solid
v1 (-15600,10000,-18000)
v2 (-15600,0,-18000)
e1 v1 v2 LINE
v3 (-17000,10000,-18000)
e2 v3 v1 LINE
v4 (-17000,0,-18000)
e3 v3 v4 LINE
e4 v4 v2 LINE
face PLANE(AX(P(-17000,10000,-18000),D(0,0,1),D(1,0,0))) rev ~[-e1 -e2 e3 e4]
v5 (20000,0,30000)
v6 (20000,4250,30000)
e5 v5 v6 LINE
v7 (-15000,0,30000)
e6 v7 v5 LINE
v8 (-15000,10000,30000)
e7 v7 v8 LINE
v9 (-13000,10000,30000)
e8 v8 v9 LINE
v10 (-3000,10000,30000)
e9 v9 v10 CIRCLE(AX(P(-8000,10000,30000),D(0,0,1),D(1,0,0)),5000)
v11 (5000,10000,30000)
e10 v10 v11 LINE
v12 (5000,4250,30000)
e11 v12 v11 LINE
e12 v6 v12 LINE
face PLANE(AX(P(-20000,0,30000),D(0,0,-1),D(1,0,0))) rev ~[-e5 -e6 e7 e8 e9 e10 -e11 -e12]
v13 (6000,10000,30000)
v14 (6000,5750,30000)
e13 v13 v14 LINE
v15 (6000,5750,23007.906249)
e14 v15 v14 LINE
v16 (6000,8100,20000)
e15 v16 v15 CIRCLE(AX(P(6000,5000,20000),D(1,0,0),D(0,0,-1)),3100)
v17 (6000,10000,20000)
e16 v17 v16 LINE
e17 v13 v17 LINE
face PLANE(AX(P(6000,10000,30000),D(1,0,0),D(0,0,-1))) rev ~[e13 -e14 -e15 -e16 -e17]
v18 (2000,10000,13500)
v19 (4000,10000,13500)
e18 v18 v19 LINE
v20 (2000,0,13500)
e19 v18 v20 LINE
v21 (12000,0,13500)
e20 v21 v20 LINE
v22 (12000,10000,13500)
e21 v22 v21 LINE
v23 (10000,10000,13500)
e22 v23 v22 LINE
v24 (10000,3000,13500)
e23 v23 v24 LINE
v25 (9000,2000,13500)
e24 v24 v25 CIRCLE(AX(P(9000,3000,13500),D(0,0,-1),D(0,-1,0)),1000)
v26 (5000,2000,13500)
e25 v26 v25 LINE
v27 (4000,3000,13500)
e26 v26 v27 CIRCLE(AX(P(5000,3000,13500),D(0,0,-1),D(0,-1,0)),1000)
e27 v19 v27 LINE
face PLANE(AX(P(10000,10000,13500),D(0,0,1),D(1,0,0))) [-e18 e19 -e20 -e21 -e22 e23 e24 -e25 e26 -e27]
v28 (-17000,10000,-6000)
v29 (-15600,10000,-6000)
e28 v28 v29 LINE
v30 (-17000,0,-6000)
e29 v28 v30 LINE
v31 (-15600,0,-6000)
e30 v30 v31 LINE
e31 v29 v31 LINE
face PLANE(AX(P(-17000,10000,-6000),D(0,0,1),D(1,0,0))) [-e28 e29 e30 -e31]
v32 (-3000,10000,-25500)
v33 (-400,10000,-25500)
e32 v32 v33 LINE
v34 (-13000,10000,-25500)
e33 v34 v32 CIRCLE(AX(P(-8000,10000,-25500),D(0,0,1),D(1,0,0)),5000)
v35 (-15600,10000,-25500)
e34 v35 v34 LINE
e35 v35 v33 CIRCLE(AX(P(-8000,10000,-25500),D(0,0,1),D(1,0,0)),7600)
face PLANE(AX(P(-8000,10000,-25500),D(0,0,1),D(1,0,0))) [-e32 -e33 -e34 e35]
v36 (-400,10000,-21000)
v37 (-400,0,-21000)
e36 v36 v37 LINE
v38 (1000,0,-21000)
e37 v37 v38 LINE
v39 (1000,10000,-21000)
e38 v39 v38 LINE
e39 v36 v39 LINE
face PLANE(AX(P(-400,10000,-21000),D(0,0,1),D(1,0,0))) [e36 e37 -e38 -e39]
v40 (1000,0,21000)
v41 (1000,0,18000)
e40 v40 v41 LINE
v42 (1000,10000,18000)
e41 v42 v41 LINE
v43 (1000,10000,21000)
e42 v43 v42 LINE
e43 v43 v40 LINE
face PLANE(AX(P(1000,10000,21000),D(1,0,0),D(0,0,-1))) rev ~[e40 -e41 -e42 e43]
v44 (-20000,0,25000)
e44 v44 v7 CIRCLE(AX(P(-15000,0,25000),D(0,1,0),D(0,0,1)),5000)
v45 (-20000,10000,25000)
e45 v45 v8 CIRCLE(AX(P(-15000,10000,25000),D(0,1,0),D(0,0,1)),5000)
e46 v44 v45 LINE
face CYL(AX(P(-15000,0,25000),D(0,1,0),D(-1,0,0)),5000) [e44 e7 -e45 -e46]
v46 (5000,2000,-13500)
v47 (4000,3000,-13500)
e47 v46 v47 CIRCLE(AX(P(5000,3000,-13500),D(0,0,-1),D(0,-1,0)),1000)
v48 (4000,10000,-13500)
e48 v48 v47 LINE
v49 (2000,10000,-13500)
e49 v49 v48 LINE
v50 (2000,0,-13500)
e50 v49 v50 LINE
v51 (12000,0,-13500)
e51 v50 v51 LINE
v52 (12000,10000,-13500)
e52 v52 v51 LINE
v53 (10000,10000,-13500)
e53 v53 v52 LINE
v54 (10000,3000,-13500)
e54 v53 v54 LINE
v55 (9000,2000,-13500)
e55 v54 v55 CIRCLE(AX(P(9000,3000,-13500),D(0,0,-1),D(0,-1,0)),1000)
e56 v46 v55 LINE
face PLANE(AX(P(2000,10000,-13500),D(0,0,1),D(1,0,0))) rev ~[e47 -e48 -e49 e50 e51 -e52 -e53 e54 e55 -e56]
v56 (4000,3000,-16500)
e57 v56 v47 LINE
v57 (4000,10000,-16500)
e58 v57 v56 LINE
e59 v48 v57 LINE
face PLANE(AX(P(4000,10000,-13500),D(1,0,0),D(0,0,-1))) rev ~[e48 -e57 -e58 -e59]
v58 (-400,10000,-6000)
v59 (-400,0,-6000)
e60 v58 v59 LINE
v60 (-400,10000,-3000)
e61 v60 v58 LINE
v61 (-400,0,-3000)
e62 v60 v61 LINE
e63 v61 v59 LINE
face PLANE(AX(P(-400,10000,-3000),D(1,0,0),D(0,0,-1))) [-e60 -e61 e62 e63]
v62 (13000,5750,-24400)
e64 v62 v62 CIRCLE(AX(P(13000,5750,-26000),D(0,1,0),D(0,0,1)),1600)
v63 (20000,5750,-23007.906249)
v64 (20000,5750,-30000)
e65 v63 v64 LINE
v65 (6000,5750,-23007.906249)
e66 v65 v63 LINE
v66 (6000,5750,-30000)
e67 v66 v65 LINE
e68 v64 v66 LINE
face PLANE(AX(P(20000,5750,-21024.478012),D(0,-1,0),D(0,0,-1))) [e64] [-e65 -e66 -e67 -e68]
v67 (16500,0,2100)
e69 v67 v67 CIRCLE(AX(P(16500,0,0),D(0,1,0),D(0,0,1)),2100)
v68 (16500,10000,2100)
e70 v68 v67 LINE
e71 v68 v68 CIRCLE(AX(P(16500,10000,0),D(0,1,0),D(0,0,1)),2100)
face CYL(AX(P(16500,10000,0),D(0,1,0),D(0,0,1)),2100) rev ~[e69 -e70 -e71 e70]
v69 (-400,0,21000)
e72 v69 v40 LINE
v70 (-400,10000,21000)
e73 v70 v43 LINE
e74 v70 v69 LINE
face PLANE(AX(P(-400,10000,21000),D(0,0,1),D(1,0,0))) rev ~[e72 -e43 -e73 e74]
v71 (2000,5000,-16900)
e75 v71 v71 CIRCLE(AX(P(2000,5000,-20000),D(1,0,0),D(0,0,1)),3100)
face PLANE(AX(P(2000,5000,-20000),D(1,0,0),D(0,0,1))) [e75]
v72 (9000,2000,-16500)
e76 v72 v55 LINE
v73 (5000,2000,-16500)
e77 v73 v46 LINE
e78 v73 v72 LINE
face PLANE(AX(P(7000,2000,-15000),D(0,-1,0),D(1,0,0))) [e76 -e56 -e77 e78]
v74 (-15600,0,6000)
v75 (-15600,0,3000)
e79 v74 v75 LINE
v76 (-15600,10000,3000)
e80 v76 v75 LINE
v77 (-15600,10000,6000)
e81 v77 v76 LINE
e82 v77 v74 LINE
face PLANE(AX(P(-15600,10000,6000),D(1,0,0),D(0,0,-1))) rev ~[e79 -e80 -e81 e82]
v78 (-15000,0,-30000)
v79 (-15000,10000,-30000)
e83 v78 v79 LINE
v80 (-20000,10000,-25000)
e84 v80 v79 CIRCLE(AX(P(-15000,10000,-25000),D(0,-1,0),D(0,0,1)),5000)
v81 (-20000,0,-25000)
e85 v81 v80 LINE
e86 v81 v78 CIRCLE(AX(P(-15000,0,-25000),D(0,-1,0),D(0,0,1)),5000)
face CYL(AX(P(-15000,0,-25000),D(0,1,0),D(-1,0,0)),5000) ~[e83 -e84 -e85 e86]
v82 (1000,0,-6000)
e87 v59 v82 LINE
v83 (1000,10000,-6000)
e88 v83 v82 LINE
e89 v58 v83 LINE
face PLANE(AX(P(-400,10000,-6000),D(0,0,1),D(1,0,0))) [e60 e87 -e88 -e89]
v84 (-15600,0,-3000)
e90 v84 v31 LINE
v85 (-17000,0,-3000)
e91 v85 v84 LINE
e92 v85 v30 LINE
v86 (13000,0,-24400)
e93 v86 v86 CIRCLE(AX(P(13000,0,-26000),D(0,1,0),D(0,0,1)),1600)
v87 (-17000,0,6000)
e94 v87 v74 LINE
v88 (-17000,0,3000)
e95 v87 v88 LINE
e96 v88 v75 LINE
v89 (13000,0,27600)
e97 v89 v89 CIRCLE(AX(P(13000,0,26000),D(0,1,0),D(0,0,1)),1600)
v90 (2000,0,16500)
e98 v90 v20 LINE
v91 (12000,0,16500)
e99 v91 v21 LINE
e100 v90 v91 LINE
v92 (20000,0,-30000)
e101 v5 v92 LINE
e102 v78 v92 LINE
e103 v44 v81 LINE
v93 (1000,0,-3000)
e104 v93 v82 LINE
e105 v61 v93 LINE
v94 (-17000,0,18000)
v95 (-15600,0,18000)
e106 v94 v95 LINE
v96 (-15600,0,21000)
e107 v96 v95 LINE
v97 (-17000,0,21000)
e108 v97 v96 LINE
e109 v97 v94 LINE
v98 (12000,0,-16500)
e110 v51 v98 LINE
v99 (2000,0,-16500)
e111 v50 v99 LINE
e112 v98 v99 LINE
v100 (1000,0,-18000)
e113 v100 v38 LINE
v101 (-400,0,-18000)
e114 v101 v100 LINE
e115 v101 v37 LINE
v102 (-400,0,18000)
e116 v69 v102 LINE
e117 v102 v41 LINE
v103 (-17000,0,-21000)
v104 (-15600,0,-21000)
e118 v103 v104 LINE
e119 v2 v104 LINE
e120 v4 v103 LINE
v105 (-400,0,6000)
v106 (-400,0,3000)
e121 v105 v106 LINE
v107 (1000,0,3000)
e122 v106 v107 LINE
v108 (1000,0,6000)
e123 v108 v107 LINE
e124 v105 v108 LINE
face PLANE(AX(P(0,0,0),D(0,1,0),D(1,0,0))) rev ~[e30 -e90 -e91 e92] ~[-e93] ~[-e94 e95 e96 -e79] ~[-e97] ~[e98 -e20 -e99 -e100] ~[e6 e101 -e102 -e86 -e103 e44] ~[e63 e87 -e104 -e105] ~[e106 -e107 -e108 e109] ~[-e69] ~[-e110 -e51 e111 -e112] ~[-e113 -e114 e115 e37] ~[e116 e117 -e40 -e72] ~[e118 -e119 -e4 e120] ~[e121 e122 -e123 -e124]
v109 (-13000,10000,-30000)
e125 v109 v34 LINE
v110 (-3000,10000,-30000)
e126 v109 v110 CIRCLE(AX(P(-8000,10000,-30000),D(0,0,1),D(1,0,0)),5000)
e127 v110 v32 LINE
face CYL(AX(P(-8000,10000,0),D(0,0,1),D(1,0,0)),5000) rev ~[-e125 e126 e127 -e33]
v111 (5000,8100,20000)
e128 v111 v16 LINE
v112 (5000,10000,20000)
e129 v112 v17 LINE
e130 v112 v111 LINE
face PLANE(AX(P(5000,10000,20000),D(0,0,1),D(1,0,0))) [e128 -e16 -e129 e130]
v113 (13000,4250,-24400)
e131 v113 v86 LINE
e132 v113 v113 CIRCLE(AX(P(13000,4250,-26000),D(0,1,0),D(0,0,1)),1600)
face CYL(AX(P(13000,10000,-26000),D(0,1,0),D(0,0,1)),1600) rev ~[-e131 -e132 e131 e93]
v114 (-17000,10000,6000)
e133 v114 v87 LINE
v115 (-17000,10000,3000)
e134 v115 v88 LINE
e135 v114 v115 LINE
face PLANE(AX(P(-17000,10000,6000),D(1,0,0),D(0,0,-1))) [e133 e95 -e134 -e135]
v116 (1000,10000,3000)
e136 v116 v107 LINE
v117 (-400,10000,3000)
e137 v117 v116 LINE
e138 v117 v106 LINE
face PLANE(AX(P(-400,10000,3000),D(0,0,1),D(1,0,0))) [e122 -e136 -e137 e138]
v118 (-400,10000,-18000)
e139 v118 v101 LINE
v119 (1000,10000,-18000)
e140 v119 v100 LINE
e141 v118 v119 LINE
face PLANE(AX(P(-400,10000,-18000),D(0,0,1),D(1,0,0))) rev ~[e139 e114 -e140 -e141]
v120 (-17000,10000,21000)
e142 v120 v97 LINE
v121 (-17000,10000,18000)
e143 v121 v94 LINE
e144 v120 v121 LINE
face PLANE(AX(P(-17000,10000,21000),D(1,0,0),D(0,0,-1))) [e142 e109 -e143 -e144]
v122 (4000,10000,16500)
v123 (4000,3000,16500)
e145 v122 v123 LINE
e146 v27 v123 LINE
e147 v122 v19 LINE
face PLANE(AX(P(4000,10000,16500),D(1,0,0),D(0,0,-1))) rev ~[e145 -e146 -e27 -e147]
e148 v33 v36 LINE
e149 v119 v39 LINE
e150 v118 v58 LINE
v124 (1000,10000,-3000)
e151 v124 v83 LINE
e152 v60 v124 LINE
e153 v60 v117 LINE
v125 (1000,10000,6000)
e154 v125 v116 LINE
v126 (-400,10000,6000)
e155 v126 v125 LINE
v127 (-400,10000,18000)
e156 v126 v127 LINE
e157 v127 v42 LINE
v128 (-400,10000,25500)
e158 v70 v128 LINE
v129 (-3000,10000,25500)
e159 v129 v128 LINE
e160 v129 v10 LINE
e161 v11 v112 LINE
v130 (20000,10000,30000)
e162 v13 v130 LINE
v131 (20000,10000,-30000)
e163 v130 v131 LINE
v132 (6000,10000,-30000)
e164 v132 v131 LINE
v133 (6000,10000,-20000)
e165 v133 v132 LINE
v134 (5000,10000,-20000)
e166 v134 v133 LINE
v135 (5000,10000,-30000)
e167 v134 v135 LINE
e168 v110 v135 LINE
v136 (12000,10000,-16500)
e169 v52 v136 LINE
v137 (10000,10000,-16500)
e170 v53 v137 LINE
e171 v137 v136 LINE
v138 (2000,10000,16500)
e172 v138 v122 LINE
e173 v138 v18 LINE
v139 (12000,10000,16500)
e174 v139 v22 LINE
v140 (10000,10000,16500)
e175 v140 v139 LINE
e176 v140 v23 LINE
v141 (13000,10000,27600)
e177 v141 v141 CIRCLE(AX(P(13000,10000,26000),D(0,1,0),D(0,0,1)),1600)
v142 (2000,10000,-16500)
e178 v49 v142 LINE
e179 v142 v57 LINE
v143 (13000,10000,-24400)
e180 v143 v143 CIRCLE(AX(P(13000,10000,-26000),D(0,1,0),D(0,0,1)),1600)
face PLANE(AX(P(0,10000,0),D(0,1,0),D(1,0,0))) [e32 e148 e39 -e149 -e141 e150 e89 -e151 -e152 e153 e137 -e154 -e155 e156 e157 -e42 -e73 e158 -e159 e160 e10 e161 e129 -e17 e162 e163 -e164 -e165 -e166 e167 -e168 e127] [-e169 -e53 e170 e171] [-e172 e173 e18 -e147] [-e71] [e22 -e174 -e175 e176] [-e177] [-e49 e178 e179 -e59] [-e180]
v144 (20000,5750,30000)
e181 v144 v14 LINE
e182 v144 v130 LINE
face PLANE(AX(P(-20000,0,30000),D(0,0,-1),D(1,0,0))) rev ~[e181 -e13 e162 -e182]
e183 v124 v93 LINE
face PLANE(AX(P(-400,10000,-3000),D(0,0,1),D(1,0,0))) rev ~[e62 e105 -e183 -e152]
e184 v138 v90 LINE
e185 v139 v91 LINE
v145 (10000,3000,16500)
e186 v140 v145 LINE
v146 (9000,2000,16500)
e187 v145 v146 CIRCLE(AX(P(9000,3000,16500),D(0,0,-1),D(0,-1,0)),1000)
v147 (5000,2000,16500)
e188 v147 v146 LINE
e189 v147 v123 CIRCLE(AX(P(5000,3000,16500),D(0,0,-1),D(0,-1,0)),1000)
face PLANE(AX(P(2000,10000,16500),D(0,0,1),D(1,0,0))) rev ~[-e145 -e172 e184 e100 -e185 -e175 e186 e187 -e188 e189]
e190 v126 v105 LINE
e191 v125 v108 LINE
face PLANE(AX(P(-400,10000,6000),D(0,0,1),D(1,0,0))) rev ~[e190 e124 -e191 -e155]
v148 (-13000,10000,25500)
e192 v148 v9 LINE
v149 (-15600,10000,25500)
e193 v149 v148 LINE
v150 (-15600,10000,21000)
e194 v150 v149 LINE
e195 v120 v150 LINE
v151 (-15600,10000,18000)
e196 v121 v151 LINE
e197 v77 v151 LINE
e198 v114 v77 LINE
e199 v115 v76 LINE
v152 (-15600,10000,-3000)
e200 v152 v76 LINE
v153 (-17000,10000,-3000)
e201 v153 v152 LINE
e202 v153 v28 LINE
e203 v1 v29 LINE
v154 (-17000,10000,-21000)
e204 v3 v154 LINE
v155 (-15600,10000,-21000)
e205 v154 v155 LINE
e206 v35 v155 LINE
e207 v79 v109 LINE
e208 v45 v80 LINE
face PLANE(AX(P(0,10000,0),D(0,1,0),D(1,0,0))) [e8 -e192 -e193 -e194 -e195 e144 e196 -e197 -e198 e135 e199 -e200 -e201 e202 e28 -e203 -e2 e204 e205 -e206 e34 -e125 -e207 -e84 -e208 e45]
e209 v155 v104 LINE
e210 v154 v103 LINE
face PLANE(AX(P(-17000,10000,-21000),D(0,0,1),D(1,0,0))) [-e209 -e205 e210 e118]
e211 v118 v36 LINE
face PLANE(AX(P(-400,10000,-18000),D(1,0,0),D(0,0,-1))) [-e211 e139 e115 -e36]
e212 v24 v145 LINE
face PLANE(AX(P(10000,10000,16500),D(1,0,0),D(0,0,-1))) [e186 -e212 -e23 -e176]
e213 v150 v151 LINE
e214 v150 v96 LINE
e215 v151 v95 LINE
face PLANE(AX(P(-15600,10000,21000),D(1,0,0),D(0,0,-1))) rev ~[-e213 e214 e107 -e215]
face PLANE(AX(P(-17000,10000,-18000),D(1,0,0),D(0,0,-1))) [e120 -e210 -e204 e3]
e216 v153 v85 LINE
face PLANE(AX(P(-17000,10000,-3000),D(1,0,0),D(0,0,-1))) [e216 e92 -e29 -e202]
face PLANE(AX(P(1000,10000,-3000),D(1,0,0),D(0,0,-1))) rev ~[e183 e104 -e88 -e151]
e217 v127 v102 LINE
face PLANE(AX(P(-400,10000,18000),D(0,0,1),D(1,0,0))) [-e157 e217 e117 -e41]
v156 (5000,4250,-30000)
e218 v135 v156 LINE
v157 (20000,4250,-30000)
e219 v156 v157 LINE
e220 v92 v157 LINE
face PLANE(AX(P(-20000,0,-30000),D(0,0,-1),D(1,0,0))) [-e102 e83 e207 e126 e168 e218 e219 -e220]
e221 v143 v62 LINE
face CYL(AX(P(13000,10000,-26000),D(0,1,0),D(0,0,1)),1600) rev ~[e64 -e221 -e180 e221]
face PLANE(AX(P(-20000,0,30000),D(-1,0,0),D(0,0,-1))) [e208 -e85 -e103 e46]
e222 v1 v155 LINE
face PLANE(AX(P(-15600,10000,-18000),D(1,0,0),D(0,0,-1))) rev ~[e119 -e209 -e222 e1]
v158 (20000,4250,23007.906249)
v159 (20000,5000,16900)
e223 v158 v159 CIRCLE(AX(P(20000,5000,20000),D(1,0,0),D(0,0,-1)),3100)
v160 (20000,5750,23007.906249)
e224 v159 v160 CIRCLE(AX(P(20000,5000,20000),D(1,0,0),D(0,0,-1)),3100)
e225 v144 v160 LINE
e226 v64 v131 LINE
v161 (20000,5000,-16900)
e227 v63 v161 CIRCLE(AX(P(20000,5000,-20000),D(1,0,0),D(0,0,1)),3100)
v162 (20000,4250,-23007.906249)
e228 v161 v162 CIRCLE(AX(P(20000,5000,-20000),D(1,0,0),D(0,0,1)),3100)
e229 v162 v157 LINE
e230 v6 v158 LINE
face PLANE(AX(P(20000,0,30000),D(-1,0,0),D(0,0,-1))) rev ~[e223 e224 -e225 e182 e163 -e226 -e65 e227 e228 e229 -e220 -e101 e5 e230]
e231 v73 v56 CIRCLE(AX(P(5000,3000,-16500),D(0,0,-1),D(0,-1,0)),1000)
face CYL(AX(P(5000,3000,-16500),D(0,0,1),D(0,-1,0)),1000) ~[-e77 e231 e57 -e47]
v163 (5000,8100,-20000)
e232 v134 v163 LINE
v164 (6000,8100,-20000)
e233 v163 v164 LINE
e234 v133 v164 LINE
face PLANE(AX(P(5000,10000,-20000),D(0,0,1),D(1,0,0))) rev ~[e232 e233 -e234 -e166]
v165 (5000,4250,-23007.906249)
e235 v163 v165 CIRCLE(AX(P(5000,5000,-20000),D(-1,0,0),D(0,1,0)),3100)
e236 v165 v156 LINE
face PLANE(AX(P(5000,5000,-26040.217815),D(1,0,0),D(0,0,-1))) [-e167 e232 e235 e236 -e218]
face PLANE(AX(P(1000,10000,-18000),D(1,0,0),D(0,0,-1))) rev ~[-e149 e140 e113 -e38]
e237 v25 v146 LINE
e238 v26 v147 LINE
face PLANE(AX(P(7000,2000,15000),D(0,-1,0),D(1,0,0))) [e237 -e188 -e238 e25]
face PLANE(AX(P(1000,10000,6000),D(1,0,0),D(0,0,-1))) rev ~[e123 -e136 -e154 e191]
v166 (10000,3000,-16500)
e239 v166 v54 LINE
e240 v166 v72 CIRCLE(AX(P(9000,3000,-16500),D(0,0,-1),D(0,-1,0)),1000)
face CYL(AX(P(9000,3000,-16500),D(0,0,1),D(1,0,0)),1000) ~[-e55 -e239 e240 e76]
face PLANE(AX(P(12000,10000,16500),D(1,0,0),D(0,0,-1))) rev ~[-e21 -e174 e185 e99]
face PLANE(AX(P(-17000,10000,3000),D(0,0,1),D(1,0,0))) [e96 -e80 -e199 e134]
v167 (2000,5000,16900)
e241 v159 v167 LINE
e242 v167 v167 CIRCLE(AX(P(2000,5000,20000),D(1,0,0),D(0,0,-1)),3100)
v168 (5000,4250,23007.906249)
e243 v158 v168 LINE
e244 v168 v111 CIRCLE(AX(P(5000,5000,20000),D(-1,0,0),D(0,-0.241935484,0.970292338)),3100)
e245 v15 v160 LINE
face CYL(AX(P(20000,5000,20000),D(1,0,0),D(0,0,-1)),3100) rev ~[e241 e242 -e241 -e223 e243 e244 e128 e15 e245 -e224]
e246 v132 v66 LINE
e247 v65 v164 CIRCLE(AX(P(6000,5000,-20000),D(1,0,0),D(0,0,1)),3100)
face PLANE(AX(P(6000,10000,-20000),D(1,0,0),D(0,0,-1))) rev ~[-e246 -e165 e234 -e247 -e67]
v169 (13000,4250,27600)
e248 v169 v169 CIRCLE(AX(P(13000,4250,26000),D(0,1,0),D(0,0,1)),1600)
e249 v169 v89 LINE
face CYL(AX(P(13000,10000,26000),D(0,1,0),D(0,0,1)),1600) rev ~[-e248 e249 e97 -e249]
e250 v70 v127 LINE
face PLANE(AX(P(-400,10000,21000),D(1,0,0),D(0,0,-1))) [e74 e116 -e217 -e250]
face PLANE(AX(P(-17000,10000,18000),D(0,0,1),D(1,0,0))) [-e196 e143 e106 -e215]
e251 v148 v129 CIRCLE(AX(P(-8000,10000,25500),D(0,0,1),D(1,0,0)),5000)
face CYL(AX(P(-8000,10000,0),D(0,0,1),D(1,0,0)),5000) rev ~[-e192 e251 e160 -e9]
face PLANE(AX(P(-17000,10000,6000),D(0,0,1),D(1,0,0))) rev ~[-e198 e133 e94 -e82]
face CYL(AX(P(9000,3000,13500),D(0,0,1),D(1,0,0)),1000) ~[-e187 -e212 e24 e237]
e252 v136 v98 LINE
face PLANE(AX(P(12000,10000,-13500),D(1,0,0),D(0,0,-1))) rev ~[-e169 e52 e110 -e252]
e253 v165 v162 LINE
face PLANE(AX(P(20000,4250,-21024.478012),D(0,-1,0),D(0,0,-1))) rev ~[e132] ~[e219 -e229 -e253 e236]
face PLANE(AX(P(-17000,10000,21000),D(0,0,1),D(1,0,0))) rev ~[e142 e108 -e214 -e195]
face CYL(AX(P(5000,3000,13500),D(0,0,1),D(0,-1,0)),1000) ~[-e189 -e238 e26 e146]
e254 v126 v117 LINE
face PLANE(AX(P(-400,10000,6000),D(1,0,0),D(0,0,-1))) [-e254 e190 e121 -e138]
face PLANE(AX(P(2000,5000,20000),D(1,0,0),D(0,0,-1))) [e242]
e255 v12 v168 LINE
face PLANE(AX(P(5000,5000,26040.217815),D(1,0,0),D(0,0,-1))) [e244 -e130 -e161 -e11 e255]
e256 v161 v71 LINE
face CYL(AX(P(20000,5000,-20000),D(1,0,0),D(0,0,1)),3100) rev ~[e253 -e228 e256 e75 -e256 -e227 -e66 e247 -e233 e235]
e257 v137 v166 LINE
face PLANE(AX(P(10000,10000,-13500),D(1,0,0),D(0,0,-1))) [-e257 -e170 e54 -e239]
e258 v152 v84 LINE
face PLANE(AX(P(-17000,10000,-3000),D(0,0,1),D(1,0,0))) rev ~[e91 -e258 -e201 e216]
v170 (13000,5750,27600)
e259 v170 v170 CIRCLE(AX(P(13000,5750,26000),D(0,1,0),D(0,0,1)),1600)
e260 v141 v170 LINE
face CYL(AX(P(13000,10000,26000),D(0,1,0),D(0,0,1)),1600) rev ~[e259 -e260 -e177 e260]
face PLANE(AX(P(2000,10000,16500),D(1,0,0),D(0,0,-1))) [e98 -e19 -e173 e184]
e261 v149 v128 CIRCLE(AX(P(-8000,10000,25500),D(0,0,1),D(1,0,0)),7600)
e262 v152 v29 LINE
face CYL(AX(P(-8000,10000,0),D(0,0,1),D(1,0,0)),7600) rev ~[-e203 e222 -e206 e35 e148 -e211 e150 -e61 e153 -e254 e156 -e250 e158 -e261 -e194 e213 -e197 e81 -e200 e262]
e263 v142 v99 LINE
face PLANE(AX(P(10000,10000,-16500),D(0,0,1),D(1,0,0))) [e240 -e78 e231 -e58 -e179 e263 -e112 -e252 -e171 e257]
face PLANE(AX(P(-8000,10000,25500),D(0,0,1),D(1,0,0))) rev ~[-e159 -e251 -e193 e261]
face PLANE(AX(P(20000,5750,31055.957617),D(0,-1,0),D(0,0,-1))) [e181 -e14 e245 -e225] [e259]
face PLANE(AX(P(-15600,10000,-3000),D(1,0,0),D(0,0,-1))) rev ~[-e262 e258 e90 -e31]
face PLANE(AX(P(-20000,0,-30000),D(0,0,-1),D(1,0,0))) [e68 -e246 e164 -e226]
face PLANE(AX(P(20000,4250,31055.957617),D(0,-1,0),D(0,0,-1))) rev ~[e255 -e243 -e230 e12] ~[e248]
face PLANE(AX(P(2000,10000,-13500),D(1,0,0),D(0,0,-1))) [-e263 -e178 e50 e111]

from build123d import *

# Parameters (mm, degrees)
SKETCH_2_W           = 40000
SKETCH_2_H           = 60000
EXTRUDE_1_DEPTH      = 10000
SKETCH_4_R           = 7600
CUT_EXTRUDE_2_DEPTH  = 25500
SKETCH_5_R           = 5000
CUT_EXTRUDE_3_DEPTH  = 40000
SKETCH_6_W           = 2000
SKETCH_6_H           = 3000
CUT_EXTRUDE_4_DEPTH  = 80000
SKETCH_13_R          = 3100
CUT_EXTRUDE_6_DEPTH  = 18000
SKETCH_16_W          = 10031.479605139
SKETCH_16_H          = 1500
CUT_EXTRUDE_7_DEPTH  = 15000
CUT_EXTRUDE_8_REACH  = 37418.574
SKETCH_17_W          = 1000
SKETCH_17_H          = 10000
SKETCH_18_R          = 1600
CUT_EXTRUDE_9_DEPTH  = 15000
SKETCH_19_W          = 1400
SKETCH_19_H          = 3000
CUT_EXTRUDE_10_DEPTH = 15000
FILLET_1_R           = 5000
SKETCH_20_R          = 2100
CUT_EXTRUDE_11_DEPTH = 10000
SKETCH_21_W          = 6000
SKETCH_21_H          = 3000
CUT_EXTRUDE_12_DEPTH = 2000
FILLET_2_R           = 1000


with BuildPart() as part:
    # 草圖2 → 填料-伸長1 (new body)
    with BuildSketch(Plane(origin=(0, 0, 0), x_dir=(1, 0, 0), z_dir=(0, 1, 0))):
        Rectangle(SKETCH_2_W, SKETCH_2_H)
    extrude(amount=EXTRUDE_1_DEPTH)

    # 草圖4 → 除料-伸長2 (cut, symmetric)
    with BuildSketch(Plane.XY):
        with Locations((-8000, 10000)):
            Circle(SKETCH_4_R)
    extrude(amount=CUT_EXTRUDE_2_DEPTH, both=True, mode=Mode.SUBTRACT)

    # 草圖5 → 除料-伸長3 (cut, symmetric)
    with BuildSketch(Plane.XY):
        with Locations((-8000, 10000)):
            Circle(SKETCH_5_R)
    extrude(amount=CUT_EXTRUDE_3_DEPTH, both=True, mode=Mode.SUBTRACT)

    # 草圖6 → 除料-伸長4 (cut)
    with BuildSketch(Plane(origin=(0, 10000, 0), x_dir=(1, 0, 0), z_dir=(0, 1, 0))):
        with Locations((11000, -15000)):
            Rectangle(SKETCH_6_W, SKETCH_6_H)
        with Locations((3000, 15000)):
            Rectangle(SKETCH_6_W, SKETCH_6_H)
        with Locations((11000, 15000)):
            Rectangle(SKETCH_6_W, SKETCH_6_H)
        with Locations((3000, -15000)):
            Rectangle(SKETCH_6_W, SKETCH_6_H)
    extrude(amount=-CUT_EXTRUDE_4_DEPTH, mode=Mode.SUBTRACT)

    # 草圖13 → 除料-伸長6 (cut)
    with BuildSketch(Plane(origin=(20000, 0, 0), x_dir=(0, 0, -1), z_dir=(1, 0, 0))):
        with Locations((-20000, 5000)):
            Circle(SKETCH_13_R)
        with Locations(Location((20000, 5000, 0), (0, 0, 180))):
            Circle(SKETCH_13_R)
    extrude(amount=-CUT_EXTRUDE_6_DEPTH, mode=Mode.SUBTRACT)

    # 草圖16 → 除料-伸長7 (cut)
    with BuildSketch(Plane(origin=(20000, 0, 0), x_dir=(0, 0, -1), z_dir=(1, 0, 0))):
        with Locations((-26040.217814772, 5000)):
            Rectangle(SKETCH_16_W, SKETCH_16_H)
        with Locations((26040.217814772, 5000)):
            Rectangle(SKETCH_16_W, SKETCH_16_H)
    extrude(amount=-CUT_EXTRUDE_7_DEPTH, mode=Mode.SUBTRACT)

    # 除料-伸長8: up to this face of the body (flat: up to its plane)
    cut_extrude_8_end = Plane(part.part.faces().sort_by_distance((12500, 4250, -26503.95312427))[0])
    # 草圖17 → 除料-伸長8 (cut, up to the picked face)
    with BuildSketch(Plane(origin=(0, 10000, 0), x_dir=(1, 0, 0), z_dir=(0, 1, 0)), mode=Mode.PRIVATE) as cut_extrude_8_sk1:
        with Locations((5500, 25000)):
            Rectangle(SKETCH_17_W, SKETCH_17_H)
    cut_extrude_8_tool1 = split(extrude(cut_extrude_8_sk1.sketch, amount=-CUT_EXTRUDE_8_REACH, mode=Mode.PRIVATE), bisect_by=cut_extrude_8_end, keep=Keep.BOTH, mode=Mode.PRIVATE)
    # 草圖17 → 除料-伸長8 (cut, up to the picked face)
    with BuildSketch(Plane(origin=(0, 10000, 0), x_dir=(1, 0, 0), z_dir=(0, 1, 0)), mode=Mode.PRIVATE) as cut_extrude_8_sk2:
        with Locations((5500, -25000)):
            Rectangle(SKETCH_17_W, SKETCH_17_H)
    cut_extrude_8_tool2 = split(extrude(cut_extrude_8_sk2.sketch, amount=-CUT_EXTRUDE_8_REACH, mode=Mode.PRIVATE), bisect_by=cut_extrude_8_end, keep=Keep.BOTH, mode=Mode.PRIVATE)
    add(cut_extrude_8_tool1.solids().sort_by(Axis((5500, 10000, -25000), (0, -1, 0)))[0], mode=Mode.SUBTRACT)
    add(cut_extrude_8_tool2.solids().sort_by(Axis((5500, 10000, 25000), (0, -1, 0)))[0], mode=Mode.SUBTRACT)

    # 草圖18 → 除料-伸長9 (cut)
    with BuildSketch(Plane(origin=(0, 10000, 0), x_dir=(1, 0, 0), z_dir=(0, 1, 0))):
        with Locations(Location((13000, 26000, 0), (0, 0, 270))):
            Circle(SKETCH_18_R)
        with Locations(Location((13000, -26000, 0), (0, 0, 270))):
            Circle(SKETCH_18_R)
    extrude(amount=-CUT_EXTRUDE_9_DEPTH, mode=Mode.SUBTRACT)

    # 草圖19 → 除料-伸長10 (cut)
    with BuildSketch(Plane(origin=(0, 10000, 0), x_dir=(1, 0, 0), z_dir=(0, 1, 0))):
        with Locations((-16300, 19500)):
            Rectangle(SKETCH_19_W, SKETCH_19_H)
        with Locations((-16300, 4500)):
            Rectangle(SKETCH_19_W, SKETCH_19_H)
        with Locations((-16300, -4500)):
            Rectangle(SKETCH_19_W, SKETCH_19_H)
        with Locations((-16300, -19500)):
            Rectangle(SKETCH_19_W, SKETCH_19_H)
        with Locations((300, -19500)):
            Rectangle(SKETCH_19_W, SKETCH_19_H)
        with Locations((300, -4500)):
            Rectangle(SKETCH_19_W, SKETCH_19_H)
        with Locations((300, 4500)):
            Rectangle(SKETCH_19_W, SKETCH_19_H)
        with Locations((300, 19500)):
            Rectangle(SKETCH_19_W, SKETCH_19_H)
    extrude(amount=-CUT_EXTRUDE_10_DEPTH, mode=Mode.SUBTRACT)

    # 圓角1
    fillet_1_edges = [part.edges().sort_by_distance(p)[0] for p in [
        (-20000, 5000, 30000),
        (-20000, 5000, -30000),
    ]]
    fillet(fillet_1_edges, radius=FILLET_1_R)

    # 草圖20 → 除料-伸長11 (cut)
    with BuildSketch(Plane(origin=(0, 10000, 0), x_dir=(1, 0, 0), z_dir=(0, 1, 0))):
        with Locations(Location((16500, 0, 0), (0, 0, 270))):
            Circle(SKETCH_20_R)
    extrude(amount=-CUT_EXTRUDE_11_DEPTH, mode=Mode.SUBTRACT)

    # 草圖21 → 除料-伸長12 (cut)
    with BuildSketch(Plane.XZ):
        with Locations((7000, 15000)):
            Rectangle(SKETCH_21_W, SKETCH_21_H)
        with Locations((7000, -15000)):
            Rectangle(SKETCH_21_W, SKETCH_21_H)
    extrude(amount=-CUT_EXTRUDE_12_DEPTH, mode=Mode.SUBTRACT)

    # 圓角2
    fillet_2_edges = [part.edges().sort_by_distance(p)[0] for p in [
        (4000, 2000, 15000),
        (10000, 2000, 15000),
        (4000, 2000, -15000),
        (10000, 2000, -15000),
    ]]
    fillet(fillet_2_edges, radius=FILLET_2_R)


solid = part.part
